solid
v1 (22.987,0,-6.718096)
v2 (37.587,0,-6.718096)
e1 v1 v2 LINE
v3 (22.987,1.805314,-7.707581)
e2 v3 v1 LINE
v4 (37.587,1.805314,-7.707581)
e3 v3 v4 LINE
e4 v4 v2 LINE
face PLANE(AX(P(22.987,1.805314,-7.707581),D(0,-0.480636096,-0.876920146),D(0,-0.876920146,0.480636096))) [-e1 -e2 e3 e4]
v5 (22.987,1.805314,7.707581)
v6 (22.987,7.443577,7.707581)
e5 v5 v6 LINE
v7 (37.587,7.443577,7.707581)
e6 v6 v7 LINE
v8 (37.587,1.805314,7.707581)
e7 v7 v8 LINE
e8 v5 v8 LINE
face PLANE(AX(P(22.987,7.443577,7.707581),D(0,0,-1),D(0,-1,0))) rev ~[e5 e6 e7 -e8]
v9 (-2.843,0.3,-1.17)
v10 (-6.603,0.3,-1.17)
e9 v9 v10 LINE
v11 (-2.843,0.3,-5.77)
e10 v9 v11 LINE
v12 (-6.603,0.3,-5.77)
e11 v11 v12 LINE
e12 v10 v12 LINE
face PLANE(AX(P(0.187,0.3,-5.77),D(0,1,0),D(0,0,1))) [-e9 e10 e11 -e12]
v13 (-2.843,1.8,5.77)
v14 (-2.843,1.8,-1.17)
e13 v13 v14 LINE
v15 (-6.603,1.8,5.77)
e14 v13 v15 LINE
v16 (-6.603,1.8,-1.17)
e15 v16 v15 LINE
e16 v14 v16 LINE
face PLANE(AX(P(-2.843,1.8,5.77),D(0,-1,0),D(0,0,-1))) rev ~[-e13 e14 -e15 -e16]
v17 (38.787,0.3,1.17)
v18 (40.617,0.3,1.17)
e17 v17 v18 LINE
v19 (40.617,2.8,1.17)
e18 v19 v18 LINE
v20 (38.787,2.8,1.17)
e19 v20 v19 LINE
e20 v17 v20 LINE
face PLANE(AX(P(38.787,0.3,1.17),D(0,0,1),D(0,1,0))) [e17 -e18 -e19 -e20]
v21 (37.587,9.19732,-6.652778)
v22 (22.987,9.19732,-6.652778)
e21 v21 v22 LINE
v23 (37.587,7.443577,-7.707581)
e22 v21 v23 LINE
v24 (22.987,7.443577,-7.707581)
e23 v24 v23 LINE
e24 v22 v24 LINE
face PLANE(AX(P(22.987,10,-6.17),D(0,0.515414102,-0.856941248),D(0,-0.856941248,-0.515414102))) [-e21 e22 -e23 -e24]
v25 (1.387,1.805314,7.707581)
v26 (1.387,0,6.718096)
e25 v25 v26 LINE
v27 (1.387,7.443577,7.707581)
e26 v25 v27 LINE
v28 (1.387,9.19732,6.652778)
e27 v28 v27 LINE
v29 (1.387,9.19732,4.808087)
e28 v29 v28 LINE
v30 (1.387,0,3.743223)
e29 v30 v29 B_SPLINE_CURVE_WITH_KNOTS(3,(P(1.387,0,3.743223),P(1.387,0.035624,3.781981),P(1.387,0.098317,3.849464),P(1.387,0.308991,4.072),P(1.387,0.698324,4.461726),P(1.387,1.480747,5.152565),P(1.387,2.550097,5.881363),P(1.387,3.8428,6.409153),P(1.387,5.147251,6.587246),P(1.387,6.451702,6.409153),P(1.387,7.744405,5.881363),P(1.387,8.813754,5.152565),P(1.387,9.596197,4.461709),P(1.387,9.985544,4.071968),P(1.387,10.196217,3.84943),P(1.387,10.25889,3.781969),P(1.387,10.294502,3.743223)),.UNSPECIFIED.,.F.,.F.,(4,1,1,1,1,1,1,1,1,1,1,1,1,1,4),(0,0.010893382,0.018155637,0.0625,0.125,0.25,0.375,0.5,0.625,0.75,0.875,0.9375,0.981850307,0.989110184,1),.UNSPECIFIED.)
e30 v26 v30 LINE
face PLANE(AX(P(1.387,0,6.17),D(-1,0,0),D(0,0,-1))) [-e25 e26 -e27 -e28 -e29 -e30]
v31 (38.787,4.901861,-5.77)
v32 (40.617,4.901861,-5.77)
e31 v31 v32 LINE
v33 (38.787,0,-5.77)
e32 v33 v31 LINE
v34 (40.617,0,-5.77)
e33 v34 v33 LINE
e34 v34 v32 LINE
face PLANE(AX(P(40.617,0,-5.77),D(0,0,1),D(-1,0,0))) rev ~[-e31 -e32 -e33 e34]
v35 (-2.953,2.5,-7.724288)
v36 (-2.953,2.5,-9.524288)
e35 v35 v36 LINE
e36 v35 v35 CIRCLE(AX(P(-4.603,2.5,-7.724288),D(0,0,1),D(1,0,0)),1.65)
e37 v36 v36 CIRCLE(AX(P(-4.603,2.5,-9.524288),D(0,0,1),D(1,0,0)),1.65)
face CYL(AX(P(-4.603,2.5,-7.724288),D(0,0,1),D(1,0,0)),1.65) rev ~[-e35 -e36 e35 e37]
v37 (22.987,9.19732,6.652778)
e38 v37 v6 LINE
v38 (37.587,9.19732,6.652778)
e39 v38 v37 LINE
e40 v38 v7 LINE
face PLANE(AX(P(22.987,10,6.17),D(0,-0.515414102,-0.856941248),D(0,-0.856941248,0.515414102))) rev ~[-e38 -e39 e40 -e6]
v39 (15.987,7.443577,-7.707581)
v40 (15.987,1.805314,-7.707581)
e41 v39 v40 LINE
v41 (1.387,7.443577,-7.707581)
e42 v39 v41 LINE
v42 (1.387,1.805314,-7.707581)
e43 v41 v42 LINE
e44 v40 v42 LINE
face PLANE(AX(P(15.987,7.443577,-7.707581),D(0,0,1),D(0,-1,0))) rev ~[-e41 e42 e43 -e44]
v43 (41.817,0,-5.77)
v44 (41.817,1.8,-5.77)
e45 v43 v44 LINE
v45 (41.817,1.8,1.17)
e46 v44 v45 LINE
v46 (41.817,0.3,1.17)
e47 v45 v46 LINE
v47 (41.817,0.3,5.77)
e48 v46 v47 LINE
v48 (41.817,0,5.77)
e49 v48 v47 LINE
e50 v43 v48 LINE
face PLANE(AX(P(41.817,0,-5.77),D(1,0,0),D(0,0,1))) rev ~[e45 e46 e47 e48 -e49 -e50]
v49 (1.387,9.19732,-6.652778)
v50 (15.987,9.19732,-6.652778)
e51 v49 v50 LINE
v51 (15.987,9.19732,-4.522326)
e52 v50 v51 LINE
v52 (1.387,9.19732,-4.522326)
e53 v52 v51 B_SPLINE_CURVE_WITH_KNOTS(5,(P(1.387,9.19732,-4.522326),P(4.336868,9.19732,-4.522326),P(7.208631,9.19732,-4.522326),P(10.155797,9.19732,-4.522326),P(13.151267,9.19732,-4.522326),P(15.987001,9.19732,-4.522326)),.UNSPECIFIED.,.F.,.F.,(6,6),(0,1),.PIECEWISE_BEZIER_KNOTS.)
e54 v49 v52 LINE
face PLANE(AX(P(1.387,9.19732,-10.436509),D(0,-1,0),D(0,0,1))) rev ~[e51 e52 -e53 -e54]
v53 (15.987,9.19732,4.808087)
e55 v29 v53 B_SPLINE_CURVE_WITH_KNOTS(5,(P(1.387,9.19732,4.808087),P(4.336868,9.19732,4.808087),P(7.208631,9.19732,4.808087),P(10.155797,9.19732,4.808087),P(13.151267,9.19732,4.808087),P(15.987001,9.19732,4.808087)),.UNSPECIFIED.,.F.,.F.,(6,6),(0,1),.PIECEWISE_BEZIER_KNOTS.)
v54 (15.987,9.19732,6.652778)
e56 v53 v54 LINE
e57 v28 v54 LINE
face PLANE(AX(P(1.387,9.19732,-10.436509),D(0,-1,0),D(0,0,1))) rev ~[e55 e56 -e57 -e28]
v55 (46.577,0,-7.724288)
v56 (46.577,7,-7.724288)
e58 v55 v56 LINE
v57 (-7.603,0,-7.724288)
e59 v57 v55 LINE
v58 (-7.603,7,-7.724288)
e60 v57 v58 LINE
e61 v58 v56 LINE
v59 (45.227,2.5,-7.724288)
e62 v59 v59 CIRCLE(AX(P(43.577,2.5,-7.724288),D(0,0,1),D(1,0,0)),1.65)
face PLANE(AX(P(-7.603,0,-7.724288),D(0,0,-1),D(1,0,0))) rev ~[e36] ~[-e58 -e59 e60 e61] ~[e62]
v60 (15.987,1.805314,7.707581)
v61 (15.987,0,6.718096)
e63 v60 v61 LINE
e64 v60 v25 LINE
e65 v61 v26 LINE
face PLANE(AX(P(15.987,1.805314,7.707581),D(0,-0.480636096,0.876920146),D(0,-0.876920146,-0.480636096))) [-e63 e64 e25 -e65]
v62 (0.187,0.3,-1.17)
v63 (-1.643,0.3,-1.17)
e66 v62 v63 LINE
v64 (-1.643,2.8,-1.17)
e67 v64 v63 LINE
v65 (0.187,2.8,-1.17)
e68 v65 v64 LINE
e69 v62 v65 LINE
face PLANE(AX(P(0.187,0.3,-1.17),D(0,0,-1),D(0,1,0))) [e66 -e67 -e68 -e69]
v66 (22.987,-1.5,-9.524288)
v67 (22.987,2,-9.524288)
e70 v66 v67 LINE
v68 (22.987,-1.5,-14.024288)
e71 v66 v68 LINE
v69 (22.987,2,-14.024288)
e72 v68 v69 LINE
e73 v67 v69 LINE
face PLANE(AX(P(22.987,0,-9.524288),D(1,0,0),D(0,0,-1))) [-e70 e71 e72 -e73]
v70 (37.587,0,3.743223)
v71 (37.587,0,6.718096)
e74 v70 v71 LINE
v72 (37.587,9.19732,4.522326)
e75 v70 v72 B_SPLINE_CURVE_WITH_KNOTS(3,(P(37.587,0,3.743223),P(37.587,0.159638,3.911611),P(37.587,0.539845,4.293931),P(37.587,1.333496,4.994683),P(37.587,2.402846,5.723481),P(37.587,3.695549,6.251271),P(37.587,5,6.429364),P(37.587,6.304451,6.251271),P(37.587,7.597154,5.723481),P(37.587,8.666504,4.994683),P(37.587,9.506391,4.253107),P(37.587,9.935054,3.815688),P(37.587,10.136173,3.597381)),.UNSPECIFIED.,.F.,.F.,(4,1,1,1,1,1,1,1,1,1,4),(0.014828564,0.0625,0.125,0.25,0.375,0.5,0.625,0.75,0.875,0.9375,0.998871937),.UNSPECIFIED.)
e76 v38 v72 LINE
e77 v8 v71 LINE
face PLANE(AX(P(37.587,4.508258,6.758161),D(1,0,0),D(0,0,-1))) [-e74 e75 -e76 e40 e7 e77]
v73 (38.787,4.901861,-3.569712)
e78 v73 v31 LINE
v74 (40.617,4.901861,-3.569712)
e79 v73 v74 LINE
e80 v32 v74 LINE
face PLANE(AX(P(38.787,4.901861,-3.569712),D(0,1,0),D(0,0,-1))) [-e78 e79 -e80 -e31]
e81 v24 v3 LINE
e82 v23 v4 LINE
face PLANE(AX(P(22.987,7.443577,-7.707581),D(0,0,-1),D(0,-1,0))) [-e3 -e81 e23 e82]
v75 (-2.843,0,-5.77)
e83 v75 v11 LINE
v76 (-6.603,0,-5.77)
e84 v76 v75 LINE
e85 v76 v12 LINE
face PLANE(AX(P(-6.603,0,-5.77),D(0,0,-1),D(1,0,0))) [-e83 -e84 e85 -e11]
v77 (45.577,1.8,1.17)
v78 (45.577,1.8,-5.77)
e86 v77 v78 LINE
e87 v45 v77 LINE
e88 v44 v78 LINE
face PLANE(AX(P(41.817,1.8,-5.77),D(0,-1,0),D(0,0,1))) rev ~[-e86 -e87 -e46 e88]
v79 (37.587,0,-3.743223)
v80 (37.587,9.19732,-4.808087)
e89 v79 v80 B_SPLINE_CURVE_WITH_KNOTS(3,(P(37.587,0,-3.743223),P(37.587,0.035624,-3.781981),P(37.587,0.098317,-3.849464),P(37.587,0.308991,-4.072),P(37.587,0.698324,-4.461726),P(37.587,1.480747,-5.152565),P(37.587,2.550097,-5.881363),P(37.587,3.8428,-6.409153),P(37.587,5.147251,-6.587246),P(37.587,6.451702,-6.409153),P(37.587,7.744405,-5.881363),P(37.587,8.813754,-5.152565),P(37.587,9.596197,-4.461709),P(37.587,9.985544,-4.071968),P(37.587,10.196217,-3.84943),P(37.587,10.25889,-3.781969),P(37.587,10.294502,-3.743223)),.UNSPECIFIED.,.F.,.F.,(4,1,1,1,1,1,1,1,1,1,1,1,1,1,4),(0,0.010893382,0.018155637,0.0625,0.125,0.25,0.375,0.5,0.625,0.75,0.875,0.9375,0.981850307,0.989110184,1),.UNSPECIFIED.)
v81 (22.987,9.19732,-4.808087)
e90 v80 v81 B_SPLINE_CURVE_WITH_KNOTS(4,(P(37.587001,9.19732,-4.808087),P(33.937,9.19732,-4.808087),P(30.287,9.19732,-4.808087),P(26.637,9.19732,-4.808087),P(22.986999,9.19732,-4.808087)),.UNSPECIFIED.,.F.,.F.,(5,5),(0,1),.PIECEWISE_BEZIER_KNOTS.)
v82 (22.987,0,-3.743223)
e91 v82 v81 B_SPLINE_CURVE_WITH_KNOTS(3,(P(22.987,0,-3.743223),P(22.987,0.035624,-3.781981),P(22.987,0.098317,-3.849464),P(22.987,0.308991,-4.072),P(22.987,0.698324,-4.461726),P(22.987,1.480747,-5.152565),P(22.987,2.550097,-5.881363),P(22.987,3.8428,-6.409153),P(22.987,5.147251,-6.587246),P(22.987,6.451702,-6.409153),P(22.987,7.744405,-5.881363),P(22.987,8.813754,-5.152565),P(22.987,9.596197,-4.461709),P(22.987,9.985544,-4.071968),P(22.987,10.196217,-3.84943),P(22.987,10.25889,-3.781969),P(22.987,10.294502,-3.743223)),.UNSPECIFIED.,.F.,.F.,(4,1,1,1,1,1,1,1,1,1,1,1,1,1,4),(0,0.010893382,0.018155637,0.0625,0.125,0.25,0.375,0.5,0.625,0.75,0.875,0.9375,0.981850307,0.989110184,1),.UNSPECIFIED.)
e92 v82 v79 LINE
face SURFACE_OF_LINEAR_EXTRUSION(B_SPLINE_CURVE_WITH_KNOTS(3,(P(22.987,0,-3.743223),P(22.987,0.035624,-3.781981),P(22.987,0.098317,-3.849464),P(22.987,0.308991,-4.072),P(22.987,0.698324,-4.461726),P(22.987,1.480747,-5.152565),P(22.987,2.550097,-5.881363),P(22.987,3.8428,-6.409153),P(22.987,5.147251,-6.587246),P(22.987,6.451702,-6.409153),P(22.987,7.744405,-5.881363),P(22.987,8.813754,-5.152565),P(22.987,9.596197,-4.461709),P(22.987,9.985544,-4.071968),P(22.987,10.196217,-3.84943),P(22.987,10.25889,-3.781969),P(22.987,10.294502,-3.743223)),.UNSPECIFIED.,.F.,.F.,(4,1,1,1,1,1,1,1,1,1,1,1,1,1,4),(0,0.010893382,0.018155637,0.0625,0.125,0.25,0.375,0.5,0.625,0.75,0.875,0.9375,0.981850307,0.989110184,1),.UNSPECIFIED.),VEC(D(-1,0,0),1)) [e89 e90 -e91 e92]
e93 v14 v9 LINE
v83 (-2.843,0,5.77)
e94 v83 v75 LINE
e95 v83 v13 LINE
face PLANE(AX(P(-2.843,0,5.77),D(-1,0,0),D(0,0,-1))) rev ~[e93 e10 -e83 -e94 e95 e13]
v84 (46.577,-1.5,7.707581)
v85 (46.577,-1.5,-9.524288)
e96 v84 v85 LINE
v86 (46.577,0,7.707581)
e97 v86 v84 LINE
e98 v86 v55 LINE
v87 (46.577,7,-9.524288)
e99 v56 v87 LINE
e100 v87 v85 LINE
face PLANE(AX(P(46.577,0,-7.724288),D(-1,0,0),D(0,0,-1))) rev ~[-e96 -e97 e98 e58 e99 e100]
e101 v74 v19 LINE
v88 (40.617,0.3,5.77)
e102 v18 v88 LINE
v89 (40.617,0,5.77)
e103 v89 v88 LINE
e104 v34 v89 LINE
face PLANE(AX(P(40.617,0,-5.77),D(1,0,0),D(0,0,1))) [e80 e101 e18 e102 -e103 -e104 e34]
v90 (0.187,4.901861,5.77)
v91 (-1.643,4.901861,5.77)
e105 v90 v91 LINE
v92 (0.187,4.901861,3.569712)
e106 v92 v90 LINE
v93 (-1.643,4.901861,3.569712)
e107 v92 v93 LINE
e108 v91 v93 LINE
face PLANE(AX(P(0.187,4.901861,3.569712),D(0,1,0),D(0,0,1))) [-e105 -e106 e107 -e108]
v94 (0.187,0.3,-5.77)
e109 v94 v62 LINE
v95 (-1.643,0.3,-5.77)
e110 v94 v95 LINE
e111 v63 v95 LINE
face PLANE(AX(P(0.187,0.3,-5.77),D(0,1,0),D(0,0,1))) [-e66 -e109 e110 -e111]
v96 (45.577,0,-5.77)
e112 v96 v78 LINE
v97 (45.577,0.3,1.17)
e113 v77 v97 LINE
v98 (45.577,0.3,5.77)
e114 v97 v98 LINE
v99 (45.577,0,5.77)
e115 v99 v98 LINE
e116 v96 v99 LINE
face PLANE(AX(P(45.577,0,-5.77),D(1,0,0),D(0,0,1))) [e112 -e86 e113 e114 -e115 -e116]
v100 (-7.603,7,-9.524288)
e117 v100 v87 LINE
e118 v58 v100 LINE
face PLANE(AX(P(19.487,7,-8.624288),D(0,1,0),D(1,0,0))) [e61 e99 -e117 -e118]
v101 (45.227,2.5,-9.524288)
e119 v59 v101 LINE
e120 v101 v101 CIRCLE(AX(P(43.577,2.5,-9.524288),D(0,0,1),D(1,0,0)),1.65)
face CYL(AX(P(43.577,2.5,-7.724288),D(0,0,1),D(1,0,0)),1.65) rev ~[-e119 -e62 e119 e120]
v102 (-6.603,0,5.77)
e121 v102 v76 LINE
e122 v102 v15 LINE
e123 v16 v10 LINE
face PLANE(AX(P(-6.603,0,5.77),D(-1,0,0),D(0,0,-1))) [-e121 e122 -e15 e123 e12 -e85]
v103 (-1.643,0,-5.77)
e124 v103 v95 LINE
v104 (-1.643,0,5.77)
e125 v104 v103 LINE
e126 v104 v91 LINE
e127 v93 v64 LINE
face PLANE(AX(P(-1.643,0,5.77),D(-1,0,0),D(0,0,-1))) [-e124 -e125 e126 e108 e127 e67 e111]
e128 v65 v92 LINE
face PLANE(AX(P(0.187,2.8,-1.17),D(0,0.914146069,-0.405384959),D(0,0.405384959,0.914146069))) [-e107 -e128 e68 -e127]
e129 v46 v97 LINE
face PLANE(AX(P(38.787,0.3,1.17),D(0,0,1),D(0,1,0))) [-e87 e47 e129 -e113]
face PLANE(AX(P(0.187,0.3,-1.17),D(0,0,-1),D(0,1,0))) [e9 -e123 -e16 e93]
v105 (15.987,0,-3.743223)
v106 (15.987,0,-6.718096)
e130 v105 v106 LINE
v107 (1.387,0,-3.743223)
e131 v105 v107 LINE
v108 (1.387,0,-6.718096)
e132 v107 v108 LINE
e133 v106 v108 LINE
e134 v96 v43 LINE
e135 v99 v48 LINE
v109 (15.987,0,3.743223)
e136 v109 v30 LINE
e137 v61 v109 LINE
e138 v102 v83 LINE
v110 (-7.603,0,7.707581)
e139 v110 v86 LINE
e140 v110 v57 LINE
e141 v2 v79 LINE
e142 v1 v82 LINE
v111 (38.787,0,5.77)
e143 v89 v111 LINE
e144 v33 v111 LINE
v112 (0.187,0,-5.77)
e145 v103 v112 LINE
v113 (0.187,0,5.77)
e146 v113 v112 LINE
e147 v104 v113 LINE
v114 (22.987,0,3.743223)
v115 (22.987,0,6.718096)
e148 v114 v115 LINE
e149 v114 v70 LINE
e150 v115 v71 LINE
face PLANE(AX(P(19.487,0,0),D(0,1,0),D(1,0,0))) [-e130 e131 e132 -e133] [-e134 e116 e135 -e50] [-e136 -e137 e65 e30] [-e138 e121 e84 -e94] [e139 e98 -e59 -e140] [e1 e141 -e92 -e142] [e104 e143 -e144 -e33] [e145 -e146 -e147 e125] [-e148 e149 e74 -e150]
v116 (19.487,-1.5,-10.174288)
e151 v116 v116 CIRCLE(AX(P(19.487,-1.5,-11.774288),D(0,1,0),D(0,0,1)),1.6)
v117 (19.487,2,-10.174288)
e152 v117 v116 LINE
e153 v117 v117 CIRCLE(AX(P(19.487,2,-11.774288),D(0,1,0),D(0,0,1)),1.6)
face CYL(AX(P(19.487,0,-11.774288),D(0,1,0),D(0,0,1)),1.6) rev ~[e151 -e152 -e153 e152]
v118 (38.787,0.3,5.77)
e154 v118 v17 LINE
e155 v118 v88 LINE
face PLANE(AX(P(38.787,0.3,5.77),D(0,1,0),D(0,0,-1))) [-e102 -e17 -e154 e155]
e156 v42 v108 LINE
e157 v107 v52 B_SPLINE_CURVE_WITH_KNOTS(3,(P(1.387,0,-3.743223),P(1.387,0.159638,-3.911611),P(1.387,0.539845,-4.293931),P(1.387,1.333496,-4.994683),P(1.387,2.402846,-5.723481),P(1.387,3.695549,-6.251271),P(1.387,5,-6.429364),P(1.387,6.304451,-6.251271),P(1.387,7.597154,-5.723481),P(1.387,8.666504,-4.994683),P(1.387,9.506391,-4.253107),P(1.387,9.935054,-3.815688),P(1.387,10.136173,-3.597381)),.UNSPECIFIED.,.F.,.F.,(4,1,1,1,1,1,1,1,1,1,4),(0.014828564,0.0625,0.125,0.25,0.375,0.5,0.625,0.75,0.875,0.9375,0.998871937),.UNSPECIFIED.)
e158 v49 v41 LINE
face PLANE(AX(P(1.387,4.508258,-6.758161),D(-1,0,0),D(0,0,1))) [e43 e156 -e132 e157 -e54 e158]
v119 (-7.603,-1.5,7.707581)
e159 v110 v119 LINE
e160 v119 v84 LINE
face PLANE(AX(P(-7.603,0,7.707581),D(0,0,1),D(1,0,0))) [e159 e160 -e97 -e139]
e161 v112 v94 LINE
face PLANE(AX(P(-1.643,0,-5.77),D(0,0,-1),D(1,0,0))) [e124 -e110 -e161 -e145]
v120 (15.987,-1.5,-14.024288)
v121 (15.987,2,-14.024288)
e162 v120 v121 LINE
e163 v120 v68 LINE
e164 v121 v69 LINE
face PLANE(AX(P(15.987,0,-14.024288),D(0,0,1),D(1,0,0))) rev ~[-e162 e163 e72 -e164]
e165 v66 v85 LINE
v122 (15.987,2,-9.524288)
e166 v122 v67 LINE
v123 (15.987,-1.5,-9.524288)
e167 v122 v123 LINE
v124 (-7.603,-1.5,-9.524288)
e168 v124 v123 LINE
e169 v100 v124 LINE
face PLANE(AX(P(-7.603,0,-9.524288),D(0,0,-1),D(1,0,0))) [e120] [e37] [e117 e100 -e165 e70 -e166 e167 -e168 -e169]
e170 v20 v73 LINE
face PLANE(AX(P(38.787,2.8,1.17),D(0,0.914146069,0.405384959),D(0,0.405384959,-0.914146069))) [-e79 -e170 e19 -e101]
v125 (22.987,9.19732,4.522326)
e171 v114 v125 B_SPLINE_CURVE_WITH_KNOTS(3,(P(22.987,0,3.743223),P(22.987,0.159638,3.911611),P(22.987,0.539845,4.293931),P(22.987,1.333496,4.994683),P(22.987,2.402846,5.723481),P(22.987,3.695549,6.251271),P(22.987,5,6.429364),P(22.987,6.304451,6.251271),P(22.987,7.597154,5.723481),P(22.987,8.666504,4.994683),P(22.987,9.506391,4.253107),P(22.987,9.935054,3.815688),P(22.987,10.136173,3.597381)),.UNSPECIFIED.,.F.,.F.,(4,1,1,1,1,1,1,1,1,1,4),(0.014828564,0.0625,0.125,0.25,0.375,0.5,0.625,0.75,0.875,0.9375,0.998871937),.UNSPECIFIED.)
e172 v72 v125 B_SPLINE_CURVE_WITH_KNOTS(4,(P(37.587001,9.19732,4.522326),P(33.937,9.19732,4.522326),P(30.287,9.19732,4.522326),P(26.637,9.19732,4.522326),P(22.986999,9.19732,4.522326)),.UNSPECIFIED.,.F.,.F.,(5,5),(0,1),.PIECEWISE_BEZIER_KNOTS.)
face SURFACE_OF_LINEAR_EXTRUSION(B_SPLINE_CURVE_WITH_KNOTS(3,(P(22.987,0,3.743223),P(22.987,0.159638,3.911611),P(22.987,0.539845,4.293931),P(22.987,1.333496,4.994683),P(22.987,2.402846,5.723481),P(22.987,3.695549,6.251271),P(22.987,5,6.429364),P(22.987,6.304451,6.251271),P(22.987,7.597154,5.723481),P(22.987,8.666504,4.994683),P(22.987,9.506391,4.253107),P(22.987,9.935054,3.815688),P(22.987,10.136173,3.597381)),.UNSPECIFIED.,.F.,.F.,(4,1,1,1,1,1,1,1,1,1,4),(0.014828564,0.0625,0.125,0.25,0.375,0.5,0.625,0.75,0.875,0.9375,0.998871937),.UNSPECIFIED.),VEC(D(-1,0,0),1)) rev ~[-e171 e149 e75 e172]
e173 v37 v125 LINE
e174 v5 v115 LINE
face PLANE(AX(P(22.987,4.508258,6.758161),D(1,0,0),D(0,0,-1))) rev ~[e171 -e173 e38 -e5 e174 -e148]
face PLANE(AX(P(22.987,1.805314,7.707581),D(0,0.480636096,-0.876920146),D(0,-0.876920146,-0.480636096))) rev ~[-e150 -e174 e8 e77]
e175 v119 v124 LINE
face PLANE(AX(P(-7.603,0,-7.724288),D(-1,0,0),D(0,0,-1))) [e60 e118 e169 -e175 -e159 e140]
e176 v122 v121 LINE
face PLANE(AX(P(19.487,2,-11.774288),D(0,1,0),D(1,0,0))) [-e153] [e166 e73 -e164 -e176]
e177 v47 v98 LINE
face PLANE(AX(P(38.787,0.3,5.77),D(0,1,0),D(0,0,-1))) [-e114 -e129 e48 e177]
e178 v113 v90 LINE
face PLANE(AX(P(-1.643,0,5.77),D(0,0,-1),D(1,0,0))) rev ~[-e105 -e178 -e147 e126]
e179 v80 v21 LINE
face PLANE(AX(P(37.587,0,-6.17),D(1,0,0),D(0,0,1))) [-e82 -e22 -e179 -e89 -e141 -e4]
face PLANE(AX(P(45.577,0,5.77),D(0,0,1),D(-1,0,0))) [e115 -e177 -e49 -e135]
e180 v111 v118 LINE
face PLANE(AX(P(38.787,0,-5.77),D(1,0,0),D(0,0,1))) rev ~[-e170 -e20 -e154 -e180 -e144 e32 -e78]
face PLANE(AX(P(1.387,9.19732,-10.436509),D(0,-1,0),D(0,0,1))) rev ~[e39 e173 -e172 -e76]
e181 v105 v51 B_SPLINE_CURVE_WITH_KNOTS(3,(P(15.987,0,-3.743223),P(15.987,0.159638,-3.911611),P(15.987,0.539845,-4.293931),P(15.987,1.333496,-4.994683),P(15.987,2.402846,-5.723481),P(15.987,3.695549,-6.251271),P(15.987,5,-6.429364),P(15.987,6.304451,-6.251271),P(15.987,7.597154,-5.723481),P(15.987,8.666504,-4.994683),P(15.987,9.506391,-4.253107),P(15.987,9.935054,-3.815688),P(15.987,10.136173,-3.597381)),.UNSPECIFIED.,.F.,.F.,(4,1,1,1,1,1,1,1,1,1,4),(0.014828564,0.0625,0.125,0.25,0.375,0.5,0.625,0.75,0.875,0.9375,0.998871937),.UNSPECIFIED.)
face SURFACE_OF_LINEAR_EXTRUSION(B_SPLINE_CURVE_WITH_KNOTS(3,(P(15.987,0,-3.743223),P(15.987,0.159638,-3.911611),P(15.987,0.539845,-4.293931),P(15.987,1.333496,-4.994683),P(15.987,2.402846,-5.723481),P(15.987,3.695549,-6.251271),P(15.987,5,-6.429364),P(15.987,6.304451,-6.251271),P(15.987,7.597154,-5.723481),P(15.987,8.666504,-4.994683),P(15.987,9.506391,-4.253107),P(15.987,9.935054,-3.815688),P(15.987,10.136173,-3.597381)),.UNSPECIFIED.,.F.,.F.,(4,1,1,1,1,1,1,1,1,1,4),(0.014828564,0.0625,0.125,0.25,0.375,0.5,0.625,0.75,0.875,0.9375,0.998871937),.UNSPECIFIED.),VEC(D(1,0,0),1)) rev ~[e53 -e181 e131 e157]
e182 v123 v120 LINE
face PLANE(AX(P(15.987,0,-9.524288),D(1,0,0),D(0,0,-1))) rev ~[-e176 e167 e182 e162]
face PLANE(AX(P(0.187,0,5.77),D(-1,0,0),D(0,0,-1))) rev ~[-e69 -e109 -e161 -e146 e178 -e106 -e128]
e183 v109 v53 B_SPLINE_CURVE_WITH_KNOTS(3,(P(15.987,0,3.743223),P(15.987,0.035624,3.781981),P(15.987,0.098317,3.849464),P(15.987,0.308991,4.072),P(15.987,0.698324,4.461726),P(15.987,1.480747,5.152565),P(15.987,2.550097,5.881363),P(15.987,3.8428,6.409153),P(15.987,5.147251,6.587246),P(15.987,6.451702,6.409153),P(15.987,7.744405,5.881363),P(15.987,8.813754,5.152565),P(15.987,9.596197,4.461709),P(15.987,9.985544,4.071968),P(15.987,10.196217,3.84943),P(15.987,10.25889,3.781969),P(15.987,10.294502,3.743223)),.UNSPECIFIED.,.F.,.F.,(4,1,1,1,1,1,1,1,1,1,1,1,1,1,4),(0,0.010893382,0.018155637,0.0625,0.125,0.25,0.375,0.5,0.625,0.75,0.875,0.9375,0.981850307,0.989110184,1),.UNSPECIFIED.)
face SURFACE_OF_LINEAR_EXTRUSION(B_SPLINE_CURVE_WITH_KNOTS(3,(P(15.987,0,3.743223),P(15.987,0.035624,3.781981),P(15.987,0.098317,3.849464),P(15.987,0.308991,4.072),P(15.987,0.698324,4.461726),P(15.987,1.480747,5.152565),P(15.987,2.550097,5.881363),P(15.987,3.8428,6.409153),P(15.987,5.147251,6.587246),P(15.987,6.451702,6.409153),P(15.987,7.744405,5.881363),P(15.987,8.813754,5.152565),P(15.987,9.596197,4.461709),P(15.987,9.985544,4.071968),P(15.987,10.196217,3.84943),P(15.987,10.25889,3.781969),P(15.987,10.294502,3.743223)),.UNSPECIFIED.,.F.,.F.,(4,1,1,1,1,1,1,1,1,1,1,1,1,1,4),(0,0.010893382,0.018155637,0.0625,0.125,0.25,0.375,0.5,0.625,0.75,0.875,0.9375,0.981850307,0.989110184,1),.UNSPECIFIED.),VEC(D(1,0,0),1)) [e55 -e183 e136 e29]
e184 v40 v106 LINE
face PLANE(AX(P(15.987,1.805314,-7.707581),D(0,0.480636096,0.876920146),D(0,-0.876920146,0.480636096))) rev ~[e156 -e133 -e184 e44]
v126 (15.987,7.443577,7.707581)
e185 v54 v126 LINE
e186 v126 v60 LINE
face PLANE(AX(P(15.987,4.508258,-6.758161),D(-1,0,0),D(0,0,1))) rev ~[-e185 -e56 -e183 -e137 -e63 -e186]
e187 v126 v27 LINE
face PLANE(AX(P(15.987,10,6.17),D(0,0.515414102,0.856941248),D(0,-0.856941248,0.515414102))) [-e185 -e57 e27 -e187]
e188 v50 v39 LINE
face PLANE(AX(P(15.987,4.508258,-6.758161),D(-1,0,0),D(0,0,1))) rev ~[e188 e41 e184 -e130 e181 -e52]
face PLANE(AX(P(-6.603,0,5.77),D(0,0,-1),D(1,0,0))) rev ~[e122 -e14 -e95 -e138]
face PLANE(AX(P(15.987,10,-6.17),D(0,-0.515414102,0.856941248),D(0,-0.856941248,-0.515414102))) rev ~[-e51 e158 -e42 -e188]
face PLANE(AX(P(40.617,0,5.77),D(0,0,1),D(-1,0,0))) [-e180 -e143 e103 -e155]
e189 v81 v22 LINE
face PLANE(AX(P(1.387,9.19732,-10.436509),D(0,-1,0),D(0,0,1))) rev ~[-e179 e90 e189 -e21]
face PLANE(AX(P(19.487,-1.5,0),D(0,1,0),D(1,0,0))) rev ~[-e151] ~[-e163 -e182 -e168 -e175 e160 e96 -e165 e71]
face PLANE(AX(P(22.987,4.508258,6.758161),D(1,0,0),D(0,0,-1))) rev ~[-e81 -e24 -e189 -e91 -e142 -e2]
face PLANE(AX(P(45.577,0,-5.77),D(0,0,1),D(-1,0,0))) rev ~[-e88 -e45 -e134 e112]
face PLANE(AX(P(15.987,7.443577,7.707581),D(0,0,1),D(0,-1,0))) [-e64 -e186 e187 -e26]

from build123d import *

# Parameters (mm, degrees)
SKETCH_1_W               = 23.59
SKETCH_1_H               = 12.34
EXTRUDE_1_DEPTH          = 1
SKETCH_1_3_W             = 14.6
SKETCH_1_3_H             = 2.72
SKETCH_1_3_W_2           = 3.76
SKETCH_1_3_H_2           = 11.54
SKETCH_1_3_W_3           = 1.83
EXTRUDE_2_DEPTH          = 10
EXTRUDE_3_DEPTH          = 14.6
CUT_EXTRUDE_1_DEPTH      = 14.6
CUT_EXTRUDE_2_DEPTH      = 14.6
CUT_EXTRUDE_3_DEPTH      = 14.6
PATTERN_CIRCULAR_1_COUNT = 2
SKETCH_7_W               = 20.64829466
SKETCH_7_H               = 2.860597992
CUT_EXTRUDE_4_DEPTH      = 38.6
SKETCH_8_R               = 1.6
EXTRUDE_4_DEPTH          = 1.5
SKETCH_9_W               = 54.18
SKETCH_9_H               = 1.8
EXTRUDE_5_DEPTH          = 7
SKETCH_10_R              = 1.65
CUT_EXTRUDE_5_DEPTH      = 5
EXTRUDE_START            = 2
SKETCH_8_3_W             = 7
SKETCH_8_3_H             = 4.5
SKETCH_8_3_R             = 1.6
EXTRUDE_6_DEPTH          = 2
SKETCH_11_W              = 54.18
SKETCH_11_H              = 6.653379434
CUT_EXTRUDE_6_DEPTH      = 5


with BuildPart() as part:
    # 草图1 → 凸台-拉伸1 (new body)
    with BuildSketch(Plane(origin=(0, 0, 0), x_dir=(1, 0, 0), z_dir=(0, 1, 0))):
        with Locations((4.192, 0)):
            Rectangle(SKETCH_1_W, SKETCH_1_H)
    extrude(amount=-EXTRUDE_1_DEPTH)

    # 草图1<3> → 凸台-拉伸2 (add)
    with BuildSketch(Plane(origin=(0, 0, 0), x_dir=(1, 0, 0), z_dir=(0, 1, 0))):
        with Locations((8.687, 4.81)):
            Rectangle(SKETCH_1_3_W, SKETCH_1_3_H)
        with Locations((8.687, -4.81)):
            Rectangle(SKETCH_1_3_W, SKETCH_1_3_H)
        with Locations((-4.723, 0)):
            Rectangle(SKETCH_1_3_W_2, SKETCH_1_3_H_2)
        with Locations((-0.728, 0)):
            Rectangle(SKETCH_1_3_W_3, SKETCH_1_3_H_2)
    extrude(amount=EXTRUDE_2_DEPTH)

    # 草图4 → 凸台-拉伸3 (add)
    with BuildSketch(Plane(origin=(15.987, 0, 0), x_dir=(0, 0, -1), z_dir=(1, 0, 0))):
        Polygon((6.17, 10), (7.707580576, 7.443577481), (7.707580576, 1.805314446), (6.17, -1), align=None)
        Polygon((-7.707580576, 1.805314446), (-6.17, -1), (-6.17, 10), (-7.707580576, 7.443577481), align=None)
    extrude(amount=-EXTRUDE_3_DEPTH)

    # 草图3 → 切除-拉伸1 (cut)
    with BuildSketch(Plane(origin=(15.987, 0, 0), x_dir=(0, 0, -1), z_dir=(1, 0, 0))):
        with BuildLine():
            Line((3.45, 0), (3.743222721, 0))
            add(Edge.make_bspline(
                [(3.743222721, 0), (3.911611309, 0.15963804), (4.29393083, 0.539845441), (4.994683036, 1.333496486), (5.723480991, 2.402845903), (6.251271172, 3.695549278), (6.429364414, 5), (6.251271172, 6.304450722), (5.723480991, 7.597154097), (4.994683036, 8.666503514), (4.253106755, 9.506390689), (3.815688064, 9.935054209), (3.597380816, 10.136172737)],
                knots=[0.014828564, 0.014828564, 0.014828564, 0.014828564, 0.0625, 0.125, 0.25, 0.375, 0.5, 0.625, 0.75, 0.875, 0.9375, 0.998871937, 0.998871937, 0.998871937, 0.998871937], degree=3))
            Line((3.597380816, 10.136172737), (3.45, 10))
            Line((3.45, 10), (3.45, 0))
        make_face()
        with BuildLine():
            Line((-3.45, 0), (-3.743222721, 0))
            add(Edge.make_bspline(
                [(-3.743222721, 0), (-3.781981306, 0.035623699), (-3.849464206, 0.098316559), (-4.072000203, 0.30899054), (-4.461726475, 0.698324492), (-5.152564834, 1.48074741), (-5.881362789, 2.550096827), (-6.40915297, 3.842800202), (-6.587246212, 5.147250924), (-6.40915297, 6.451701646), (-5.881362789, 7.744405021), (-5.152564834, 8.813754438), (-4.461708764, 9.596197415), (-4.071967827, 9.985543512), (-3.84942965, 10.196217487), (-3.781968617, 10.258889811), (-3.743222721, 10.294501848)],
                knots=[0, 0, 0, 0, 0.010893382, 0.018155637, 0.0625, 0.125, 0.25, 0.375, 0.5, 0.625, 0.75, 0.875, 0.9375, 0.981850307, 0.989110184, 1, 1, 1, 1], degree=3))
            Line((-3.743222721, 10.294501848), (-3.45, 10))
            Line((-3.45, 10), (-3.45, 0))
        make_face()
    extrude(amount=-CUT_EXTRUDE_1_DEPTH, mode=Mode.SUBTRACT)

    # 草图5 → 切除-拉伸2 (cut)
    with BuildSketch(Plane(origin=(0.187, 0, 0), x_dir=(0, 0, -1), z_dir=(1, 0, 0))):
        Polygon((1.17, 2.8), (-3.569711506, 4.901860767), (-5.77, 4.901860767), (-5.77, 10), (5.77, 10), (5.77, 0.3), (1.17, 0.3), align=None)
    extrude(amount=-CUT_EXTRUDE_2_DEPTH, mode=Mode.SUBTRACT)

    # 草图6 → 切除-拉伸3 (cut)
    with BuildSketch(Plane(origin=(-2.843, 0, 0), x_dir=(0, 0, -1), z_dir=(1, 0, 0))):
        Polygon((1.17, 5.538552109), (1.17, 1.8), (-3.795527251, 1.8), (-5.77, 1.8), (-5.77, 5.538552109), align=None)
    extrude(amount=-CUT_EXTRUDE_3_DEPTH, mode=Mode.SUBTRACT)


with BuildPart() as pattern_circular_1_1:
    # 阵列(圆周)1: pattern copy
    add(part.part.rotate(Axis((19.487, -1.5500525, 0), (0, 1, 0)), 1 * 360 / PATTERN_CIRCULAR_1_COUNT))


with BuildPart() as cut_extrude_4_tool:
    # 草图7 → 切除-拉伸4 (new body)
    with BuildSketch(Plane.ZY.offset(-1.387)):
        with Locations((-0.112362095, 10.62761907)):
            Rectangle(SKETCH_7_W, SKETCH_7_H)
    extrude(amount=-CUT_EXTRUDE_4_DEPTH)


with BuildPart() as part_1:
    add(part.part)

    # 切除-拉伸4: cut by cut_extrude_4_tool
    add(cut_extrude_4_tool.part, mode=Mode.SUBTRACT)



with BuildPart() as pattern_circular_1_1_1:
    add(pattern_circular_1_1.part)

    # 切除-拉伸4: cut by cut_extrude_4_tool
    add(cut_extrude_4_tool.part, mode=Mode.SUBTRACT)


with BuildPart() as part_2:
    add(part_1.part)

    add(pattern_circular_1_1_1.part)  # 凸台-拉伸4 merges 阵列(圆周)1_1
    # 草图8 → 凸台-拉伸4 (add)
    with BuildSketch(Plane(origin=(0, 0, 0), x_dir=(1, 0, 0), z_dir=(0, 1, 0))):
        Polygon((22.987, -9.524287518), (46.577, -9.524287518), (46.577, 9.524287518), (22.987, 9.524287518), (22.987, 14.024287518), (15.987, 14.024287518), (15.987, 9.524287518), (-7.603, 9.524287518), (-7.603, -9.524287518), (15.987, -9.524287518), (15.987, -14.024287518), (22.987, -14.024287518), align=None)
        with Locations((19.487, -11.774287518)):
            Circle(SKETCH_8_R, mode=Mode.SUBTRACT)
        with Locations((19.487, 11.774287518)):
            Circle(SKETCH_8_R, mode=Mode.SUBTRACT)
    extrude(amount=-EXTRUDE_4_DEPTH)

    # 草图9 → 凸台-拉伸5 (add)
    with BuildSketch(Plane(origin=(0, 0, 0), x_dir=(1, 0, 0), z_dir=(0, 1, 0))):
        with Locations((19.487, 8.624287518)):
            Rectangle(SKETCH_9_W, SKETCH_9_H)
    extrude(amount=EXTRUDE_5_DEPTH)

    # 草图10 → 切除-拉伸5 (cut)
    with BuildSketch(Plane.XY.offset(-7.724287518)):
        with Locations((-4.603, 2.5)):
            Circle(SKETCH_10_R)
        with Locations((43.577, 2.5)):
            Circle(SKETCH_10_R)
    extrude(amount=-CUT_EXTRUDE_5_DEPTH, mode=Mode.SUBTRACT)

    # 草图8<3> → 凸台-拉伸6 (add)
    # profile 1 of 2: a face of its own
    with BuildSketch(Plane(origin=(0, 0, 0), x_dir=(1, 0, 0), z_dir=(0, 1, 0)).offset(EXTRUDE_START)):
        with Locations((19.487, -11.774287518)):
            Rectangle(SKETCH_8_3_W, SKETCH_8_3_H)
        with Locations((19.487, -11.774287518)):
            Circle(SKETCH_8_3_R, mode=Mode.SUBTRACT)
    # profile 2 of 2: a face of its own
    with BuildSketch(Plane(origin=(0, 0, 0), x_dir=(1, 0, 0), z_dir=(0, 1, 0)).offset(EXTRUDE_START)):
        with Locations((19.487, 11.774287518)):
            Rectangle(SKETCH_8_3_W, SKETCH_8_3_H)
        with Locations((19.487, 11.774287518)):
            Circle(SKETCH_8_3_R, mode=Mode.SUBTRACT)
    extrude(amount=-EXTRUDE_6_DEPTH)

    # 草图11 → 切除-拉伸6 (cut, symmetric)
    with BuildSketch(Plane(origin=(0, 0, 0), x_dir=(1, 0, 0), z_dir=(0, 1, 0))):
        with Locations((19.487, -11.034270293)):
            Rectangle(SKETCH_11_W, SKETCH_11_H)
    extrude(amount=CUT_EXTRUDE_6_DEPTH, both=True, mode=Mode.SUBTRACT)


solid = part_2.part
